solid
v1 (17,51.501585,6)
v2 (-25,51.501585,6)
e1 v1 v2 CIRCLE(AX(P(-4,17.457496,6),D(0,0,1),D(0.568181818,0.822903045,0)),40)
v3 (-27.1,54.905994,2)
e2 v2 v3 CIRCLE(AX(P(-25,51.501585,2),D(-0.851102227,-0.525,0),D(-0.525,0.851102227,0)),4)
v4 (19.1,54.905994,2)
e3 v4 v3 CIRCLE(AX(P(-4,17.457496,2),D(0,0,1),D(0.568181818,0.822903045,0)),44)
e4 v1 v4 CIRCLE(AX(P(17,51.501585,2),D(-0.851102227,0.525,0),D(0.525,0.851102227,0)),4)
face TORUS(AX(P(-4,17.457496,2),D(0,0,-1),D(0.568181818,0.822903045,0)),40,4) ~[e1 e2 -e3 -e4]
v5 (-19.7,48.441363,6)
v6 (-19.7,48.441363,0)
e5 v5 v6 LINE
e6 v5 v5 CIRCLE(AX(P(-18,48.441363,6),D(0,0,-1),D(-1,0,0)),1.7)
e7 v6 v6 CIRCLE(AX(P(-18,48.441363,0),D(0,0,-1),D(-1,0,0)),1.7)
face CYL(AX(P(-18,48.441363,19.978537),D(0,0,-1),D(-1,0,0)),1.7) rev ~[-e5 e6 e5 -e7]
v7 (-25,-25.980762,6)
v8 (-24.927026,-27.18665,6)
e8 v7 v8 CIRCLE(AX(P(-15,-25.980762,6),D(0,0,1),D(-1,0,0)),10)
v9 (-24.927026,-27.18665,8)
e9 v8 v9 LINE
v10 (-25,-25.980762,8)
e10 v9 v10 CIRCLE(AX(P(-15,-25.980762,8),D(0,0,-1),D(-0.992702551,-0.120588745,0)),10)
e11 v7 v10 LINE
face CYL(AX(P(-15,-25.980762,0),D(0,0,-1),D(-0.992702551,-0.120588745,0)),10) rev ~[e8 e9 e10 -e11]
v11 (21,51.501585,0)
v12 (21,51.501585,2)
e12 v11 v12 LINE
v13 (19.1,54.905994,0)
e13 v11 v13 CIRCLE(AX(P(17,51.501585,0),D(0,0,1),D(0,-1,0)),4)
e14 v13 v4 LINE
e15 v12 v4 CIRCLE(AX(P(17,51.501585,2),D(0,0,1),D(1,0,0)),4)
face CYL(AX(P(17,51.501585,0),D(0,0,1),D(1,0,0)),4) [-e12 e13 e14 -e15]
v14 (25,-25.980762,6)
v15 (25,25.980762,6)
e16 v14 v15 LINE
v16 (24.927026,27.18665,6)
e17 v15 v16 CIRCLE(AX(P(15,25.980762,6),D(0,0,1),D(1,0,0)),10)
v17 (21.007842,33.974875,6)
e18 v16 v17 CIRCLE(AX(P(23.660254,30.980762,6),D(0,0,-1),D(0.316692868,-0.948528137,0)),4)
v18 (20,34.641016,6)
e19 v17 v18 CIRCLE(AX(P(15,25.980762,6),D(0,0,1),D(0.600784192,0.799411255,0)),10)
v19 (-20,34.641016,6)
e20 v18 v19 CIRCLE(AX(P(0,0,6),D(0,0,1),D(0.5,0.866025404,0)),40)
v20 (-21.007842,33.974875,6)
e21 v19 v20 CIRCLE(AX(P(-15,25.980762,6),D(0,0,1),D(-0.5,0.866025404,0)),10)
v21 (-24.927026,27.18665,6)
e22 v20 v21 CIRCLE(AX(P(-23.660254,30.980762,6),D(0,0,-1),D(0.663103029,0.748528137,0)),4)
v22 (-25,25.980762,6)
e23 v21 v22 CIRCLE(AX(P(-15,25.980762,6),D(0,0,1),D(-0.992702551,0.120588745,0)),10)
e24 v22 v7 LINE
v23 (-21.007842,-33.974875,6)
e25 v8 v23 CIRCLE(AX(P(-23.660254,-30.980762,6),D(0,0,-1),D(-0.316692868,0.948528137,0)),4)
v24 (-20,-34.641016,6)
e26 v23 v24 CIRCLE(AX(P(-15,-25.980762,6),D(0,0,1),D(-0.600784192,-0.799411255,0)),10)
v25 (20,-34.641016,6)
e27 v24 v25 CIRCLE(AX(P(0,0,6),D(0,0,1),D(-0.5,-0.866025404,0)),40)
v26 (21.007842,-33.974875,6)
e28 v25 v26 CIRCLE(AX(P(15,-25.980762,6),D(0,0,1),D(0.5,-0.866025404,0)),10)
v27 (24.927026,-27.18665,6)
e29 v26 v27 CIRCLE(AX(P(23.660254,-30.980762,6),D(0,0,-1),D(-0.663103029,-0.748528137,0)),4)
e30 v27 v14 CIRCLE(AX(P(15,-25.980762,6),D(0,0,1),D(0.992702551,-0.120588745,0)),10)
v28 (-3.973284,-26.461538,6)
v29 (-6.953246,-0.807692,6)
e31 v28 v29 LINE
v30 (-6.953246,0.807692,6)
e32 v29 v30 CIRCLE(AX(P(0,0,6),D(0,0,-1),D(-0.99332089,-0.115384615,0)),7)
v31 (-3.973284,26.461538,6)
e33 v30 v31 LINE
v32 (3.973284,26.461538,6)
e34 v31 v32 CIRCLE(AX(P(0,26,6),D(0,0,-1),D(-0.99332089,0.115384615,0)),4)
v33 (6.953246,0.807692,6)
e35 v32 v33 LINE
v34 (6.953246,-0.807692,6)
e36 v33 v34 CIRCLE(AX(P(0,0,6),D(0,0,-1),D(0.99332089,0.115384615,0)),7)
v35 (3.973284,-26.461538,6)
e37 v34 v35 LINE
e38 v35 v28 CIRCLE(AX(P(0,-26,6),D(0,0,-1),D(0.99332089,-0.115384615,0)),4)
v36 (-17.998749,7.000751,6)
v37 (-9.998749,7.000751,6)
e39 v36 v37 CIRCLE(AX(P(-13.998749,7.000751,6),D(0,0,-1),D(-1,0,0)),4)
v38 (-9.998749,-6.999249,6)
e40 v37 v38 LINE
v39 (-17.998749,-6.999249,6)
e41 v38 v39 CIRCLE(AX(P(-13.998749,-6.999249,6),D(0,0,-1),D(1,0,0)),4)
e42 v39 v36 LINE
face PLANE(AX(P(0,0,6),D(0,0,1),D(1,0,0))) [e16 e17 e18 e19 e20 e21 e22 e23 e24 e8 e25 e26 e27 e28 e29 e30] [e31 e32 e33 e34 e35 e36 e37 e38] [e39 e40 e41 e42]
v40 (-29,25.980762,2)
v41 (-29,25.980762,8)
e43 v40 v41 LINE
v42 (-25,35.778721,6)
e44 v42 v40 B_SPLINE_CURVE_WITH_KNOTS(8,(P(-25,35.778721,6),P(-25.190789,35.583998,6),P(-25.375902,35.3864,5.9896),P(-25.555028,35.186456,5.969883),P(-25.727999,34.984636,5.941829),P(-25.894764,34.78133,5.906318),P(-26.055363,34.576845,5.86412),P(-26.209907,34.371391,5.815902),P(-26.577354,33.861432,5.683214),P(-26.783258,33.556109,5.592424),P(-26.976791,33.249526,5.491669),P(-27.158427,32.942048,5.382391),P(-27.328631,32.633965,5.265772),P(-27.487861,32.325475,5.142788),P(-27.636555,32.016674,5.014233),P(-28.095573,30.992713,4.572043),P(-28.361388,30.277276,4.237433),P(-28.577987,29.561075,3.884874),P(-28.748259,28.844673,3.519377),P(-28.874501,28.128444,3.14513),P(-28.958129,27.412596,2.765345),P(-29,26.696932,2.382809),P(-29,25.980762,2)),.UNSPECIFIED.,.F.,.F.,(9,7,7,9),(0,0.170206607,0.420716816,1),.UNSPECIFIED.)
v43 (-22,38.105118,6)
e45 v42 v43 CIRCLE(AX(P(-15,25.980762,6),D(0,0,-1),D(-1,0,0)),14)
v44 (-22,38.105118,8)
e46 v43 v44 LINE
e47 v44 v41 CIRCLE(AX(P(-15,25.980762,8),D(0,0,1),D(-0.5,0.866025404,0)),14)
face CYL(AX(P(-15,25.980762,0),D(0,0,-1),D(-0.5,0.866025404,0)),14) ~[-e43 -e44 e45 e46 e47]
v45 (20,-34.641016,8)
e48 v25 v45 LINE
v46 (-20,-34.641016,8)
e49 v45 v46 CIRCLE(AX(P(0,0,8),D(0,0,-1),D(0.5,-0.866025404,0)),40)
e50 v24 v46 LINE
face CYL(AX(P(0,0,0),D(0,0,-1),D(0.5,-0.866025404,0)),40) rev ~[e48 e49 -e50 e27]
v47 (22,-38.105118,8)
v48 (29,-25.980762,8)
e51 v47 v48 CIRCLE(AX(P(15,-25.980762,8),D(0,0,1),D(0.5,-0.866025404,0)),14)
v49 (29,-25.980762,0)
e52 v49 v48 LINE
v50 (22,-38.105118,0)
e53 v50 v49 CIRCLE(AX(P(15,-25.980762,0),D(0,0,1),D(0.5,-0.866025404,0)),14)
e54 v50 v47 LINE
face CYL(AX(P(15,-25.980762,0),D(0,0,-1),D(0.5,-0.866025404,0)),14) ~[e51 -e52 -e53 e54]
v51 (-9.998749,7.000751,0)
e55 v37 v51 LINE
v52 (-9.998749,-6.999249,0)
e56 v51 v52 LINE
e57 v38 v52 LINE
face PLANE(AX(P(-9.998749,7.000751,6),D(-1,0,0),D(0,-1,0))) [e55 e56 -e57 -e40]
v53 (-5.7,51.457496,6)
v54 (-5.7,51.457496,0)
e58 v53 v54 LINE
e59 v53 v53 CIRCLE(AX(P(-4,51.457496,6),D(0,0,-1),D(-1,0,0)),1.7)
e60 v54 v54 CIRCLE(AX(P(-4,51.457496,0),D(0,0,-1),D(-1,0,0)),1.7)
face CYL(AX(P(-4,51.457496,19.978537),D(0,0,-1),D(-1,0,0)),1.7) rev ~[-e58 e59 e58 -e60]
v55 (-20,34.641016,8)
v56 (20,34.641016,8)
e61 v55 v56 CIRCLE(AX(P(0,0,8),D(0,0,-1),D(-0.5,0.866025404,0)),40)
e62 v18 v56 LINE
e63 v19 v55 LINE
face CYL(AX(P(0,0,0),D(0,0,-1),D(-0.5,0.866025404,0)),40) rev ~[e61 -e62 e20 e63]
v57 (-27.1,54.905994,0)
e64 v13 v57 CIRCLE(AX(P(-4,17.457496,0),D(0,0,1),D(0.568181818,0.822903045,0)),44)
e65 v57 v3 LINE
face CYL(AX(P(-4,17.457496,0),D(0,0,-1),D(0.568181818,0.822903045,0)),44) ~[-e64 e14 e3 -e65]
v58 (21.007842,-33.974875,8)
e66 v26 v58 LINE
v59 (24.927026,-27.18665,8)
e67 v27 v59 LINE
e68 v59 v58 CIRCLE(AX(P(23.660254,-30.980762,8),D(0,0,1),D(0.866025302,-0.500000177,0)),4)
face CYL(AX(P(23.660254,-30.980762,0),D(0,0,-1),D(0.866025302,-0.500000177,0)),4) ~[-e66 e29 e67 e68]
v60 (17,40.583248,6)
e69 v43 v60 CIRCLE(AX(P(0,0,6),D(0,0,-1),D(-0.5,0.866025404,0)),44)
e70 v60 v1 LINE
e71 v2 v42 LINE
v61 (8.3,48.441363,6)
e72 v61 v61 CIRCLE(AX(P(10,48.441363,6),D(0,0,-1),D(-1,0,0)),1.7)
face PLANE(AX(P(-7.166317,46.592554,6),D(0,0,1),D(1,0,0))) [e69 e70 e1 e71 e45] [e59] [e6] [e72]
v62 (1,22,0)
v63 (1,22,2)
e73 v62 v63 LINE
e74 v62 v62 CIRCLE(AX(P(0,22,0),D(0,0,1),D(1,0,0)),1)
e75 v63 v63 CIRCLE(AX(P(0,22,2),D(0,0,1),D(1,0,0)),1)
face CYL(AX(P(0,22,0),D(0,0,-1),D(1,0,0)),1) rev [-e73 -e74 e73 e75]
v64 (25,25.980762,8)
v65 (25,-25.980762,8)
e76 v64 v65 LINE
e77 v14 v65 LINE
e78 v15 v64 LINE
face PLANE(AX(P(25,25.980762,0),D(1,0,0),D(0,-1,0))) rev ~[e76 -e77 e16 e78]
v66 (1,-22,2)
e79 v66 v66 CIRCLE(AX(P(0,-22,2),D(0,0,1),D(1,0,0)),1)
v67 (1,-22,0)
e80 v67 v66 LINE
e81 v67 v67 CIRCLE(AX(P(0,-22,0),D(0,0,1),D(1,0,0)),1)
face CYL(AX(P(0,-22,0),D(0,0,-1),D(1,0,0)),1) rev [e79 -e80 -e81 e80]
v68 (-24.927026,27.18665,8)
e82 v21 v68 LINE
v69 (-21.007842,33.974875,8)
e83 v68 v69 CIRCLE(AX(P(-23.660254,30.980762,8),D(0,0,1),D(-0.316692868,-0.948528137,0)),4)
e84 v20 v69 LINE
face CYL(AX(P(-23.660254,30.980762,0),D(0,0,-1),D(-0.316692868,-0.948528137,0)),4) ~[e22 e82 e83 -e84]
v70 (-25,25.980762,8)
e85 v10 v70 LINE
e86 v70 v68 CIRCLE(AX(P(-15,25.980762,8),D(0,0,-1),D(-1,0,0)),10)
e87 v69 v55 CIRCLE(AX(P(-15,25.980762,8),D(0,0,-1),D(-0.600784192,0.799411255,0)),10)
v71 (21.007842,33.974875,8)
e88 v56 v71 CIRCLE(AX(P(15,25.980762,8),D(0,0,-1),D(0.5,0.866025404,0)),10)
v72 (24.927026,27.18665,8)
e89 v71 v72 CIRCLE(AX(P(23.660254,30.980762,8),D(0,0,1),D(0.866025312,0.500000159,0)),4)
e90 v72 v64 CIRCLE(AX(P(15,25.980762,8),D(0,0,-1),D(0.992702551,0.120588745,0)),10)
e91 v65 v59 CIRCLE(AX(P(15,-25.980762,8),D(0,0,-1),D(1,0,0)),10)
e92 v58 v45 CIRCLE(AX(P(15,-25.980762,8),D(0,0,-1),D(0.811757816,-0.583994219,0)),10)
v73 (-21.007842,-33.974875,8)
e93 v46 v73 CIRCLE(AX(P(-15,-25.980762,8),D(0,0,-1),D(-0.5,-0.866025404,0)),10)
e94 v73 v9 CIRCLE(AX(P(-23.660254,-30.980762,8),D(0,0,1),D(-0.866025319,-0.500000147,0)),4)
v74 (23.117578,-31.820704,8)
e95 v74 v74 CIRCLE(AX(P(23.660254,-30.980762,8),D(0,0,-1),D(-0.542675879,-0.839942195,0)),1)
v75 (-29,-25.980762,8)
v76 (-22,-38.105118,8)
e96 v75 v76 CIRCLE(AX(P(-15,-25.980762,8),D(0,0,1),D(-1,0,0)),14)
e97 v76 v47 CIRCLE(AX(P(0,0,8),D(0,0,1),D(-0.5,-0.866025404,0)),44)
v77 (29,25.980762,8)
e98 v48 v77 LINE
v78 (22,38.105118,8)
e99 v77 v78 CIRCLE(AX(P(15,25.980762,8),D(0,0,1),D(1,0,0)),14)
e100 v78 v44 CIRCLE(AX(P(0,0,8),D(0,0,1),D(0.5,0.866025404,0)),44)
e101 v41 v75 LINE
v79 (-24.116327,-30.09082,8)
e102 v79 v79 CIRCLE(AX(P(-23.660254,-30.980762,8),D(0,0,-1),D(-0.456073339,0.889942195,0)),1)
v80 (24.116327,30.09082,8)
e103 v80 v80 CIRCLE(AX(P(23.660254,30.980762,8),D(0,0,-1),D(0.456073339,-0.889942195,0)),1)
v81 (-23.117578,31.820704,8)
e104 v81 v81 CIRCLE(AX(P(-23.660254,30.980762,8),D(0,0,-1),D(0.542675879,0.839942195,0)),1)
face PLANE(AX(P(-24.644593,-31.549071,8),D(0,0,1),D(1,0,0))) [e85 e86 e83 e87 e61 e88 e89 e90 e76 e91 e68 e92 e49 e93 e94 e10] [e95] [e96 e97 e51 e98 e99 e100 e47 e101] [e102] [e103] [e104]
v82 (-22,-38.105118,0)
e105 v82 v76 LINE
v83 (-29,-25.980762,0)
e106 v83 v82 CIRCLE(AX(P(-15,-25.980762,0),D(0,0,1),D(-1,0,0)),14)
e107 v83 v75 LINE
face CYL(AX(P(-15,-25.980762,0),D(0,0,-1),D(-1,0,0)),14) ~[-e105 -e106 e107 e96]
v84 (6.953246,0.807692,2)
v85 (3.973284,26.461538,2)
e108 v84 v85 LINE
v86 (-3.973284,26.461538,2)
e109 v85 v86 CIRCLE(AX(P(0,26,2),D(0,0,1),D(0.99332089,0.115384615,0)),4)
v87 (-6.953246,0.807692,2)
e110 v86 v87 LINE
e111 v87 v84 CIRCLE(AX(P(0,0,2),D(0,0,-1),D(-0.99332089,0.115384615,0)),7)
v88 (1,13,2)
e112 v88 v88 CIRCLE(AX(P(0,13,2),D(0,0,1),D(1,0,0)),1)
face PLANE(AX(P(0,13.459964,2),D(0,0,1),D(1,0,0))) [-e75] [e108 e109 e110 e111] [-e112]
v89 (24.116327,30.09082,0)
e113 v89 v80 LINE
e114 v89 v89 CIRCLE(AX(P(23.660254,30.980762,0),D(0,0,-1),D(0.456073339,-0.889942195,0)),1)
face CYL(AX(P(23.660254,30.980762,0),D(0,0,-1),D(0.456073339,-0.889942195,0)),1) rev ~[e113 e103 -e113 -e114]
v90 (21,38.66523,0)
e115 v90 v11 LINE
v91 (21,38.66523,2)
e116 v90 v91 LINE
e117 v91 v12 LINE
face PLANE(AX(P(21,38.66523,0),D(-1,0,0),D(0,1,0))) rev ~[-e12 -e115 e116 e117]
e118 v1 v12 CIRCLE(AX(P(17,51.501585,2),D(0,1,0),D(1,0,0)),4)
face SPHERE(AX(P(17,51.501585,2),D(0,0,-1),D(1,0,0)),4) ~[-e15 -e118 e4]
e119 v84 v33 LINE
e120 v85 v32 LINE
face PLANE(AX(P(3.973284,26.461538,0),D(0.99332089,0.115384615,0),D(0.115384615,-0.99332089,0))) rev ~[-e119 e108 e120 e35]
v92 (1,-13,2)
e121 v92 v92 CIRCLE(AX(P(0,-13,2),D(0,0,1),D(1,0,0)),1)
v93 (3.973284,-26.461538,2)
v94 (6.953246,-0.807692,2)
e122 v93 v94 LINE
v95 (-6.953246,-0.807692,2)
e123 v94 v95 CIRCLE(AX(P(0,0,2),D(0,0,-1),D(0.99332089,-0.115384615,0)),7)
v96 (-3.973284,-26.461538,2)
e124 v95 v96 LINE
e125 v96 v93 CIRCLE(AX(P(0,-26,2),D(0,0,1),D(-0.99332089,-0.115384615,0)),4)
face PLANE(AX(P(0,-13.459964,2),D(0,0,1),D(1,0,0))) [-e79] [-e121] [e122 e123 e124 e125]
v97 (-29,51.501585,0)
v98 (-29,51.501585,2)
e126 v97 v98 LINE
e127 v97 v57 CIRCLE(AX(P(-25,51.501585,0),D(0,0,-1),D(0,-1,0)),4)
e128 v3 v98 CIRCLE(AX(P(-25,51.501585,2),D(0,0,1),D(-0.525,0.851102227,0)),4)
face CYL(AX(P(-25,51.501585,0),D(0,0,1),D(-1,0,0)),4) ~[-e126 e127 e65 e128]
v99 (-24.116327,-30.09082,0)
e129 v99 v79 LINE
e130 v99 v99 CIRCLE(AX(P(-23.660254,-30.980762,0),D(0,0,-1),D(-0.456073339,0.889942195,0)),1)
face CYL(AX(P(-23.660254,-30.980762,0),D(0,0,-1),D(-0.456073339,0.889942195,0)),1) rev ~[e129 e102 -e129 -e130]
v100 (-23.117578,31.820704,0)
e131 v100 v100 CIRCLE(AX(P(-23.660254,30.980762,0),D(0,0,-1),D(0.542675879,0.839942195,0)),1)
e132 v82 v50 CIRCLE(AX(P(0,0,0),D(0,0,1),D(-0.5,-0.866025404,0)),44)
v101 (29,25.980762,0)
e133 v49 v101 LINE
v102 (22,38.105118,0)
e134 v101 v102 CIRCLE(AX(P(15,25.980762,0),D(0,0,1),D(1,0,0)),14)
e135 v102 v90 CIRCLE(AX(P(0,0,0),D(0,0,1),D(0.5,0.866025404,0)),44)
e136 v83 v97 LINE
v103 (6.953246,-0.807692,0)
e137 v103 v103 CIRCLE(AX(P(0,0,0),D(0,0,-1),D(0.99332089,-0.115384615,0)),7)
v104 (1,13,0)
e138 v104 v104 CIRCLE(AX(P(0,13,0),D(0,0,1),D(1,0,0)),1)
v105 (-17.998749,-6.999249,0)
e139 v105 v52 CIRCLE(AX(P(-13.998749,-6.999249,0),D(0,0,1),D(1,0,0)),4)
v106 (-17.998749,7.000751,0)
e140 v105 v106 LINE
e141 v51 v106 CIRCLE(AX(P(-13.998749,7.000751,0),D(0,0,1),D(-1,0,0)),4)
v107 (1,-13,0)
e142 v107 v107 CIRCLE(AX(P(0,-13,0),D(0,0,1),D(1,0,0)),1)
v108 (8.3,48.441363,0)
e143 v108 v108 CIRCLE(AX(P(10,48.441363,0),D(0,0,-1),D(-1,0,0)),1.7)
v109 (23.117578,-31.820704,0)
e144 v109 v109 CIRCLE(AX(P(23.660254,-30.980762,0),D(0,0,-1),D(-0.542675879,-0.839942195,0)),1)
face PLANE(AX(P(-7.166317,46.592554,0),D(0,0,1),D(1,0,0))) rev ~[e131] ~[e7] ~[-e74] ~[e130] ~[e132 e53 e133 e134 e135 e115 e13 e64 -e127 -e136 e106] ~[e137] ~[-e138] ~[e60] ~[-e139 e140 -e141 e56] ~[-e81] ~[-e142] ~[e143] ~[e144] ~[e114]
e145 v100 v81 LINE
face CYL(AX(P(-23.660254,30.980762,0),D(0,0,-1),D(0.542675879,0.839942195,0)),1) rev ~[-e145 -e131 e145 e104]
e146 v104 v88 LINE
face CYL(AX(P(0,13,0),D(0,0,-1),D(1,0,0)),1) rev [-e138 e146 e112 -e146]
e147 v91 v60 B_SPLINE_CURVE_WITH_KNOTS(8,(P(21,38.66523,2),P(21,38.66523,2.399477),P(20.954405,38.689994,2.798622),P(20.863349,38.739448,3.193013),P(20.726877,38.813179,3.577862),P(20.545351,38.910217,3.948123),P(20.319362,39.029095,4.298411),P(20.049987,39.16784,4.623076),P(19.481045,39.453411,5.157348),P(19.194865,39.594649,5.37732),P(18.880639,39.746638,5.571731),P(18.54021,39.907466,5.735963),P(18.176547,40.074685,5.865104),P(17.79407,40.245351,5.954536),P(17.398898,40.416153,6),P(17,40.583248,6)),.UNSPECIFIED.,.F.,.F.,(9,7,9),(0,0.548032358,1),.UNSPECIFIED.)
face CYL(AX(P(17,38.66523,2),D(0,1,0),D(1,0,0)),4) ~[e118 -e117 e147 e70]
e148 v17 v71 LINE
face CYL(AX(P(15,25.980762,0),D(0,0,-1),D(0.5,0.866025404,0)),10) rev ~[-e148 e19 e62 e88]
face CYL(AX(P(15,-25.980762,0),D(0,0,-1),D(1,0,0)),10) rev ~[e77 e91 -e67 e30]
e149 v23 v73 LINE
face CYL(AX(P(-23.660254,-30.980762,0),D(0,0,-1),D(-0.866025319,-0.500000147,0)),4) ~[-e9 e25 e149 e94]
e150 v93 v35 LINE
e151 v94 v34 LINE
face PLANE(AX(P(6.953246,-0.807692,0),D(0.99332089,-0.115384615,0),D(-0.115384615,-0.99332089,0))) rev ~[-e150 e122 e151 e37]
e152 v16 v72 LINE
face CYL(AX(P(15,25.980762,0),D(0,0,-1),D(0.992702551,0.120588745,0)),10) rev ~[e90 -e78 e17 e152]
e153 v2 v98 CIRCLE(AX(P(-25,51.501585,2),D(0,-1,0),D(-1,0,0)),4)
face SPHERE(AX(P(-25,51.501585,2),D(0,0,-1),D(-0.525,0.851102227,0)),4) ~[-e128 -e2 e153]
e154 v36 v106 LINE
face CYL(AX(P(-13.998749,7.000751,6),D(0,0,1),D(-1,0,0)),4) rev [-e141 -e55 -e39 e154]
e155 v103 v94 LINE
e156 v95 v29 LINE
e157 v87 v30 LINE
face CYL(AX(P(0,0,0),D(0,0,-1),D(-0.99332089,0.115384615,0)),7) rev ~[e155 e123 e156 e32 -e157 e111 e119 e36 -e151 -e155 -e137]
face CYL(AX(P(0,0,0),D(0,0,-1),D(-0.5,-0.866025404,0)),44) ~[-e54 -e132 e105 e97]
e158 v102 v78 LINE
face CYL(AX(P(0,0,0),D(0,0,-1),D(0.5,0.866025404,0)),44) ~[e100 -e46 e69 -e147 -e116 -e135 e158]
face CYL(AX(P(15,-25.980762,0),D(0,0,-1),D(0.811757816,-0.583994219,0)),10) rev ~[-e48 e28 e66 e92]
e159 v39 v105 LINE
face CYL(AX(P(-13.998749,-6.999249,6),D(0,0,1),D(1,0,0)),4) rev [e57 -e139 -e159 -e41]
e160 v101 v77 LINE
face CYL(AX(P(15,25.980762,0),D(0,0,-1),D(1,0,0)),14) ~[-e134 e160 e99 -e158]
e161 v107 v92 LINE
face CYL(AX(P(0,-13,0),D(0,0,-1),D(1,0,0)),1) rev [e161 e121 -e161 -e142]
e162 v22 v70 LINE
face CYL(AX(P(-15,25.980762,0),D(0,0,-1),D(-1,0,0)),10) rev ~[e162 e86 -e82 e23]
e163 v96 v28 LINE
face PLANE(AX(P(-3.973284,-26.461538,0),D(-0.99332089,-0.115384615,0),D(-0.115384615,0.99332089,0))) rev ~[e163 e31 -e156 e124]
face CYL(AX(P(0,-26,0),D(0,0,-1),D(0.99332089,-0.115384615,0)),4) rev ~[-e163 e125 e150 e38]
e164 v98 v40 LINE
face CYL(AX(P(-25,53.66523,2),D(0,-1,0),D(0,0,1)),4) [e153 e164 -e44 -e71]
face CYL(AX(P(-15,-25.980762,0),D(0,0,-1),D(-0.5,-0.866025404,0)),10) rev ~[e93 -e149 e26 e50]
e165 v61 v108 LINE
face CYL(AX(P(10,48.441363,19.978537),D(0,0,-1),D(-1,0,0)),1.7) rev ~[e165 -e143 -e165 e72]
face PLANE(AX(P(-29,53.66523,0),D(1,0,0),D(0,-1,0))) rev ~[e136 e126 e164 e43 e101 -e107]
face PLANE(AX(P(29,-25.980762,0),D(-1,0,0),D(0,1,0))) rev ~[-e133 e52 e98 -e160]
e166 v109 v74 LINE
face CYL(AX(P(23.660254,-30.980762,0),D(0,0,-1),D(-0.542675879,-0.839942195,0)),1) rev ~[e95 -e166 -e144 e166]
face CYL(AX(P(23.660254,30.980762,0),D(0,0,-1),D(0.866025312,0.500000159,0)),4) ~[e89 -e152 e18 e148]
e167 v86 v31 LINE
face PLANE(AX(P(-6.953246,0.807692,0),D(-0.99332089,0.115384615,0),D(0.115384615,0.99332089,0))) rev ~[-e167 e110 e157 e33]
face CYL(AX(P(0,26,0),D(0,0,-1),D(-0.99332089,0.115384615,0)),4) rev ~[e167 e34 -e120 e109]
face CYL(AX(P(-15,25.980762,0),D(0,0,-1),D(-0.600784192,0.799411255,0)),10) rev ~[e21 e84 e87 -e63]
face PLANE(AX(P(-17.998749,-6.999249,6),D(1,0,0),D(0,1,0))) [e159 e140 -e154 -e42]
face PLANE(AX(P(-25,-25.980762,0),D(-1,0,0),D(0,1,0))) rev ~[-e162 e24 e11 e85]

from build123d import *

# Parameters (mm, degrees)
EXTRUDE_1_DEPTH       = 6
SKETCH_1_3_R          = 1.0000000000000007
SKETCH_1_3_R_2        = 1.0000000000000009
EXTRUDE_2_DEPTH       = 2
SKETCH_1_4_R          = 1.0000000000000024
SKETCH_1_4_R_2        = 1.0000000000000022
SKETCH_1_4_R_3        = 0.9999999999999966
SKETCH_1_4_R_4        = 1.0000000000000009
EXTRUDE_3_DEPTH       = 8
CUT_EXTRUDE_1_DEPTH   = 54.0377224247045
EXTRUDE_4_DEPTH       = 6
FILLET_2_R            = 4
HOLE_WIZARD_M31_D     = 3.4
HOLE_WIZARD_M31_DEPTH = 13.978536948
HOLE_WIZARD_M31_TIP   = 1.0214630523468524


with BuildPart() as part:
    # Эскиз1 → Бобышка-Вытянуть1 (new body)
    with BuildSketch(Plane.XY):
        with BuildLine():
            Line((25.000000000000007, -25.98076211353316), (25.000000000000007, 25.980762113533153))
            ThreePointArc((25.000000000000007, 25.980762113533153), (24.981739705342804, 26.584808845817278), (24.927025509043382, 27.186649563837758))
            ThreePointArc((24.927025509043485, 27.18664956383775), (20.196152422706675, 28.98076211353309), (21.007841920590277, 33.974874663228555))
            ThreePointArc((21.007841920590295, 33.97487466322859), (20.513989667902422, 34.32317890618177), (20.000000000000014, 34.64101615137754))
            ThreePointArc((20.000000000000014, 34.64101615137754), (0, 40.00000000000001), (-20.000000000000018, 34.64101615137754))
            ThreePointArc((-20.000000000000014, 34.64101615137754), (-20.513989667902425, 34.32317890618177), (-21.0078419205903, 33.97487466322859))
            ThreePointArc((-21.00784192059028, 33.97487466322856), (-20.01267617924998, 32.62246116192532), (-19.660254037844396, 30.98076211353315))
            ThreePointArc((-19.660254037844396, 30.98076211353315), (-21.322208474216062, 27.735220102959588), (-24.92702550904333, 27.186649563837697))
            ThreePointArc((-24.92702550904339, 27.186649563837694), (-24.981739705342804, 26.584808845817246), (-25.000000000000007, 25.980762113533153))
            Line((-25.000000000000007, 25.980762113533153), (-25.000000000000007, -25.98076211353316))
            ThreePointArc((-25.000000000000007, -25.98076211353316), (-24.981739705342804, -26.584808845817253), (-24.92702550904339, -27.1866495638377))
            ThreePointArc((-24.927025509043325, -27.186649563837705), (-21.322208474216055, -27.735220102959595), (-19.66025403784439, -30.980762113533157))
            ThreePointArc((-19.66025403784439, -30.980762113533157), (-20.012676179249972, -32.62246116192533), (-21.007841920590273, -33.97487466322856))
            ThreePointArc((-21.007841920590288, -33.9748746632286), (-20.51398966790242, -34.32317890618177), (-20.00000000000001, -34.64101615137754))
            ThreePointArc((-20.00000000000001, -34.64101615137754), (8.9e-16, -40), (20.000000000000014, -34.64101615137754))
            ThreePointArc((20.00000000000001, -34.64101615137754), (20.51398966790242, -34.32317890618177), (21.007841920590288, -33.9748746632286))
            ThreePointArc((21.007841920590277, -33.97487466322857), (20.19615242270667, -28.980762113533096), (24.92702550904349, -27.18664956383776))
            ThreePointArc((24.927025509043382, -27.186649563837765), (24.981739705342804, -26.584808845817285), (25.000000000000007, -25.98076211353316))
        make_face()
        with BuildLine():
            ThreePointArc((-6.953246230078051, -0.8076923076923074), (-6.9999999999999964, -8e-17), (-6.953246230078052, 0.8076923076923072))
            Line((-6.953246230078053, 0.8076923076923073), (-3.9732835600445995, 26.46153846153846))
            ThreePointArc((-3.9732835600445995, 26.46153846153846), (1.61e-15, 30), (3.973283560044602, 26.46153846153846))
            Line((3.973283560044602, 26.46153846153846), (6.9532462300780535, 0.8076923076923066))
            ThreePointArc((6.9532462300780535, 0.8076923076923077), (6.988301782641701, 0.4045221807599798), (6.999999999999997, 0))
            ThreePointArc((6.999999999999997, 0), (6.988301782641701, -0.40452218075998), (6.9532462300780535, -0.8076923076923077))
            Line((6.9532462300780535, -0.8076923076923066), (3.973283560044602, -26.46153846153846))
            ThreePointArc((3.973283560044602, -26.46153846153846), (7.8e-16, -29.999999999999996), (-3.9732835600445995, -26.46153846153846))
            Line((-3.9732835600445995, -26.46153846153846), (-6.953246230078053, -0.8076923076923073))
        make_face(mode=Mode.SUBTRACT)
    extrude(amount=EXTRUDE_1_DEPTH)

    # Эскиз1<3> → Бобышка-Вытянуть2 (add)
    # profile 1 of 2: a face of its own
    with BuildSketch(Plane.XY):
        with BuildLine():
            Line((-3.9732835600445995, 26.46153846153846), (-6.953246230078053, 0.8076923076923073))
            ThreePointArc((-6.953246230078054, 0.8076923076923096), (1.98e-15, 7.000000000000001), (6.953246230078055, 0.8076923076923079))
            Line((6.9532462300780535, 0.8076923076923066), (3.973283560044602, 26.46153846153846))
            ThreePointArc((3.973283560044602, 26.46153846153846), (1.61e-15, 30), (-3.9732835600445995, 26.46153846153846))
        make_face()
        with Locations((0, 13)):
            Circle(SKETCH_1_3_R, mode=Mode.SUBTRACT)
        with Locations((0, 22)):
            Circle(SKETCH_1_3_R_2, mode=Mode.SUBTRACT)
    # profile 2 of 2: a face of its own
    with BuildSketch(Plane.XY):
        with BuildLine():
            ThreePointArc((6.953246230078054, -0.8076923076923105), (-1.29e-15, -7.000000000000001), (-6.953246230078055, -0.8076923076923079))
            Line((-6.953246230078053, -0.8076923076923073), (-3.9732835600445995, -26.46153846153846))
            ThreePointArc((-3.9732835600445995, -26.46153846153846), (7.8e-16, -29.999999999999996), (3.973283560044602, -26.46153846153846))
            Line((3.973283560044602, -26.46153846153846), (6.9532462300780535, -0.8076923076923066))
        make_face()
        with Locations((0, -22)):
            Circle(SKETCH_1_3_R_2, mode=Mode.SUBTRACT)
        with Locations((0, -13)):
            Circle(SKETCH_1_3_R, mode=Mode.SUBTRACT)
    extrude(amount=EXTRUDE_2_DEPTH)

    # Эскиз1<4> → Бобышка-Вытянуть3 (add)
    with BuildSketch(Plane.XY):
        with BuildLine():
            ThreePointArc((29.000000000000007, 25.980762113533153), (27.124355652982153, 32.98076211353315), (22.000000000000014, 38.10511776651529))
            ThreePointArc((22.000000000000014, 38.10511776651529), (-1.78e-15, 44), (-22.00000000000002, 38.10511776651529))
            ThreePointArc((-22.000000000000018, 38.10511776651529), (-27.124355652982153, 32.980762113533146), (-29.000000000000007, 25.98076211353315))
            Line((-29.000000000000007, 25.980762113533153), (-29.000000000000007, -25.98076211353316))
            ThreePointArc((-29.000000000000007, -25.98076211353316), (-27.124355652982146, -32.98076211353315), (-22.00000000000002, -38.10511776651529))
            ThreePointArc((-22.000000000000025, -38.10511776651529), (-6.22e-15, -44.00000000000001), (22.000000000000014, -38.1051177665153))
            ThreePointArc((22.000000000000014, -38.1051177665153), (27.124355652982153, -32.98076211353316), (29.00000000000001, -25.98076211353316))
            Line((29.000000000000007, -25.98076211353316), (29.00000000000001, 25.980762113533153))
        make_face()
        with BuildLine():
            ThreePointArc((24.927025509043382, 27.186649563837758), (24.981739705342804, 26.584808845817278), (25.000000000000007, 25.980762113533153))
            Line((25.000000000000007, 25.980762113533153), (25.000000000000007, -25.98076211353316))
            ThreePointArc((25.000000000000007, -25.98076211353316), (24.981739705342804, -26.584808845817285), (24.927025509043382, -27.186649563837765))
            ThreePointArc((24.92702550904349, -27.18664956383776), (20.19615242270667, -28.980762113533096), (21.007841920590277, -33.97487466322857))
            ThreePointArc((21.007841920590288, -33.9748746632286), (20.51398966790242, -34.32317890618177), (20.00000000000001, -34.64101615137754))
            ThreePointArc((20.000000000000014, -34.64101615137754), (8.9e-16, -40), (-20.00000000000001, -34.64101615137754))
            ThreePointArc((-20.00000000000001, -34.64101615137754), (-20.51398966790242, -34.32317890618177), (-21.007841920590288, -33.9748746632286))
            ThreePointArc((-21.00784192059027, -33.97487466322856), (-20.19615242270663, -28.980762113533167), (-24.927025509043325, -27.186649563837705))
            ThreePointArc((-24.92702550904339, -27.1866495638377), (-24.981739705342804, -26.584808845817253), (-25.000000000000007, -25.98076211353316))
            Line((-25.000000000000007, -25.98076211353316), (-25.000000000000007, 25.980762113533153))
            ThreePointArc((-25.000000000000007, 25.980762113533153), (-24.981739705342804, 26.584808845817246), (-24.92702550904339, 27.186649563837694))
            ThreePointArc((-24.92702550904333, 27.186649563837697), (-20.196152422706632, 28.980762113533164), (-21.00784192059028, 33.97487466322856))
            ThreePointArc((-21.0078419205903, 33.97487466322859), (-20.513989667902425, 34.32317890618177), (-20.000000000000014, 34.64101615137754))
            ThreePointArc((-20.000000000000018, 34.64101615137754), (0, 40.00000000000001), (20.000000000000014, 34.64101615137754))
            ThreePointArc((20.000000000000014, 34.64101615137754), (20.513989667902422, 34.32317890618177), (21.007841920590295, 33.97487466322859))
            ThreePointArc((21.007841920590277, 33.974874663228555), (20.196152422706675, 28.98076211353309), (24.927025509043485, 27.18664956383775))
        make_face(mode=Mode.SUBTRACT)
        with Locations((23.6602540378444, 30.98076211353315)):
            Circle(SKETCH_1_4_R, mode=Mode.SUBTRACT)
        with Locations((23.660254037844393, -30.980762113533157)):
            Circle(SKETCH_1_4_R_2, mode=Mode.SUBTRACT)
        with Locations((-23.660254037844393, 30.98076211353315)):
            Circle(SKETCH_1_4_R_3, mode=Mode.SUBTRACT)
        with Locations((-23.660254037844396, -30.98076211353316)):
            Circle(SKETCH_1_4_R_4, mode=Mode.SUBTRACT)
    extrude(amount=EXTRUDE_3_DEPTH)

    # Эскиз2 → Вырез-Вытянуть1 (cut, through all)
    with BuildSketch(Plane.XY.offset(6)):
        with BuildLine():
            Line((-17.998748741118916, -6.999248963798453), (-17.998748741118916, 7.000751036201546))
            ThreePointArc((-17.998748741118916, 7.000751036201546), (-13.99874874111892, 11.00075103620155), (-9.998748741118916, 7.0007510362015495))
            Line((-9.998748741118916, 7.0007510362015495), (-9.998748741118915, -6.999248963798453))
            ThreePointArc((-9.998748741118915, -6.999248963798453), (-13.998748741118916, -10.999248963798454), (-17.998748741118916, -6.999248963798453))
        make_face()
    extrude(amount=-CUT_EXTRUDE_1_DEPTH, mode=Mode.SUBTRACT)

    # Эскиз1<5> → Бобышка-Вытянуть4 (add)
    with BuildSketch(Plane.XY):
        with BuildLine():
            ThreePointArc((-22.00000000000002, 38.10511776651529), (-0.5730893375891295, 43.99626766682762), (21, 38.66522985836241))
            Line((20.999999999999996, 38.665229858362416), (20.999999999999986, 53.66522985836241))
            ThreePointArc((20.99999999999999, 53.665229858362416), (-4.000000000000013, 61.45749587789907), (-29.00000000000001, 53.665229858362416))
            Line((-29.000000000000007, 53.66522985836241), (-29.000000000000007, 25.980762113533153))
            ThreePointArc((-29.000000000000007, 25.980762113533153), (-28.522961473136743, 29.604229099178195), (-27.124355286277215, 32.98076274868469))
            ThreePointArc((-27.124355286277215, 32.98076274868469), (-24.89949467731214, 35.880257309444346), (-22.000000000000014, 38.10511776651529))
        make_face()
    extrude(amount=EXTRUDE_4_DEPTH)

    # Скругление2
    fillet_2_edges = [part.edges().sort_by_distance(p)[0] for p in [
        (-4.000000000000006, 61.45749587789908, 6),
        (20.999999999999993, 46.16522985836241, 6),
        (20.99999999999999, 53.665229858362416, 3),
        (-29.000000000000007, 53.665229858362416, 3),
        (-29.000000000000007, 39.822995985947784, 6),
    ]]
    fillet(fillet_2_edges, radius=FILLET_2_R)

    # Отверстие с зазором M31
    with Locations(Plane.XY.offset(6)):
        with Locations((-18, 48.441362648), (-4, 51.457495878), (10, 48.441362648)):
            Hole(HOLE_WIZARD_M31_D / 2, depth=HOLE_WIZARD_M31_DEPTH)
            with Locations((0, 0, -(HOLE_WIZARD_M31_DEPTH + HOLE_WIZARD_M31_TIP / 2))):  # 118° drill point
                Cone(0, HOLE_WIZARD_M31_D / 2, HOLE_WIZARD_M31_TIP, mode=Mode.SUBTRACT)


solid = part.part
